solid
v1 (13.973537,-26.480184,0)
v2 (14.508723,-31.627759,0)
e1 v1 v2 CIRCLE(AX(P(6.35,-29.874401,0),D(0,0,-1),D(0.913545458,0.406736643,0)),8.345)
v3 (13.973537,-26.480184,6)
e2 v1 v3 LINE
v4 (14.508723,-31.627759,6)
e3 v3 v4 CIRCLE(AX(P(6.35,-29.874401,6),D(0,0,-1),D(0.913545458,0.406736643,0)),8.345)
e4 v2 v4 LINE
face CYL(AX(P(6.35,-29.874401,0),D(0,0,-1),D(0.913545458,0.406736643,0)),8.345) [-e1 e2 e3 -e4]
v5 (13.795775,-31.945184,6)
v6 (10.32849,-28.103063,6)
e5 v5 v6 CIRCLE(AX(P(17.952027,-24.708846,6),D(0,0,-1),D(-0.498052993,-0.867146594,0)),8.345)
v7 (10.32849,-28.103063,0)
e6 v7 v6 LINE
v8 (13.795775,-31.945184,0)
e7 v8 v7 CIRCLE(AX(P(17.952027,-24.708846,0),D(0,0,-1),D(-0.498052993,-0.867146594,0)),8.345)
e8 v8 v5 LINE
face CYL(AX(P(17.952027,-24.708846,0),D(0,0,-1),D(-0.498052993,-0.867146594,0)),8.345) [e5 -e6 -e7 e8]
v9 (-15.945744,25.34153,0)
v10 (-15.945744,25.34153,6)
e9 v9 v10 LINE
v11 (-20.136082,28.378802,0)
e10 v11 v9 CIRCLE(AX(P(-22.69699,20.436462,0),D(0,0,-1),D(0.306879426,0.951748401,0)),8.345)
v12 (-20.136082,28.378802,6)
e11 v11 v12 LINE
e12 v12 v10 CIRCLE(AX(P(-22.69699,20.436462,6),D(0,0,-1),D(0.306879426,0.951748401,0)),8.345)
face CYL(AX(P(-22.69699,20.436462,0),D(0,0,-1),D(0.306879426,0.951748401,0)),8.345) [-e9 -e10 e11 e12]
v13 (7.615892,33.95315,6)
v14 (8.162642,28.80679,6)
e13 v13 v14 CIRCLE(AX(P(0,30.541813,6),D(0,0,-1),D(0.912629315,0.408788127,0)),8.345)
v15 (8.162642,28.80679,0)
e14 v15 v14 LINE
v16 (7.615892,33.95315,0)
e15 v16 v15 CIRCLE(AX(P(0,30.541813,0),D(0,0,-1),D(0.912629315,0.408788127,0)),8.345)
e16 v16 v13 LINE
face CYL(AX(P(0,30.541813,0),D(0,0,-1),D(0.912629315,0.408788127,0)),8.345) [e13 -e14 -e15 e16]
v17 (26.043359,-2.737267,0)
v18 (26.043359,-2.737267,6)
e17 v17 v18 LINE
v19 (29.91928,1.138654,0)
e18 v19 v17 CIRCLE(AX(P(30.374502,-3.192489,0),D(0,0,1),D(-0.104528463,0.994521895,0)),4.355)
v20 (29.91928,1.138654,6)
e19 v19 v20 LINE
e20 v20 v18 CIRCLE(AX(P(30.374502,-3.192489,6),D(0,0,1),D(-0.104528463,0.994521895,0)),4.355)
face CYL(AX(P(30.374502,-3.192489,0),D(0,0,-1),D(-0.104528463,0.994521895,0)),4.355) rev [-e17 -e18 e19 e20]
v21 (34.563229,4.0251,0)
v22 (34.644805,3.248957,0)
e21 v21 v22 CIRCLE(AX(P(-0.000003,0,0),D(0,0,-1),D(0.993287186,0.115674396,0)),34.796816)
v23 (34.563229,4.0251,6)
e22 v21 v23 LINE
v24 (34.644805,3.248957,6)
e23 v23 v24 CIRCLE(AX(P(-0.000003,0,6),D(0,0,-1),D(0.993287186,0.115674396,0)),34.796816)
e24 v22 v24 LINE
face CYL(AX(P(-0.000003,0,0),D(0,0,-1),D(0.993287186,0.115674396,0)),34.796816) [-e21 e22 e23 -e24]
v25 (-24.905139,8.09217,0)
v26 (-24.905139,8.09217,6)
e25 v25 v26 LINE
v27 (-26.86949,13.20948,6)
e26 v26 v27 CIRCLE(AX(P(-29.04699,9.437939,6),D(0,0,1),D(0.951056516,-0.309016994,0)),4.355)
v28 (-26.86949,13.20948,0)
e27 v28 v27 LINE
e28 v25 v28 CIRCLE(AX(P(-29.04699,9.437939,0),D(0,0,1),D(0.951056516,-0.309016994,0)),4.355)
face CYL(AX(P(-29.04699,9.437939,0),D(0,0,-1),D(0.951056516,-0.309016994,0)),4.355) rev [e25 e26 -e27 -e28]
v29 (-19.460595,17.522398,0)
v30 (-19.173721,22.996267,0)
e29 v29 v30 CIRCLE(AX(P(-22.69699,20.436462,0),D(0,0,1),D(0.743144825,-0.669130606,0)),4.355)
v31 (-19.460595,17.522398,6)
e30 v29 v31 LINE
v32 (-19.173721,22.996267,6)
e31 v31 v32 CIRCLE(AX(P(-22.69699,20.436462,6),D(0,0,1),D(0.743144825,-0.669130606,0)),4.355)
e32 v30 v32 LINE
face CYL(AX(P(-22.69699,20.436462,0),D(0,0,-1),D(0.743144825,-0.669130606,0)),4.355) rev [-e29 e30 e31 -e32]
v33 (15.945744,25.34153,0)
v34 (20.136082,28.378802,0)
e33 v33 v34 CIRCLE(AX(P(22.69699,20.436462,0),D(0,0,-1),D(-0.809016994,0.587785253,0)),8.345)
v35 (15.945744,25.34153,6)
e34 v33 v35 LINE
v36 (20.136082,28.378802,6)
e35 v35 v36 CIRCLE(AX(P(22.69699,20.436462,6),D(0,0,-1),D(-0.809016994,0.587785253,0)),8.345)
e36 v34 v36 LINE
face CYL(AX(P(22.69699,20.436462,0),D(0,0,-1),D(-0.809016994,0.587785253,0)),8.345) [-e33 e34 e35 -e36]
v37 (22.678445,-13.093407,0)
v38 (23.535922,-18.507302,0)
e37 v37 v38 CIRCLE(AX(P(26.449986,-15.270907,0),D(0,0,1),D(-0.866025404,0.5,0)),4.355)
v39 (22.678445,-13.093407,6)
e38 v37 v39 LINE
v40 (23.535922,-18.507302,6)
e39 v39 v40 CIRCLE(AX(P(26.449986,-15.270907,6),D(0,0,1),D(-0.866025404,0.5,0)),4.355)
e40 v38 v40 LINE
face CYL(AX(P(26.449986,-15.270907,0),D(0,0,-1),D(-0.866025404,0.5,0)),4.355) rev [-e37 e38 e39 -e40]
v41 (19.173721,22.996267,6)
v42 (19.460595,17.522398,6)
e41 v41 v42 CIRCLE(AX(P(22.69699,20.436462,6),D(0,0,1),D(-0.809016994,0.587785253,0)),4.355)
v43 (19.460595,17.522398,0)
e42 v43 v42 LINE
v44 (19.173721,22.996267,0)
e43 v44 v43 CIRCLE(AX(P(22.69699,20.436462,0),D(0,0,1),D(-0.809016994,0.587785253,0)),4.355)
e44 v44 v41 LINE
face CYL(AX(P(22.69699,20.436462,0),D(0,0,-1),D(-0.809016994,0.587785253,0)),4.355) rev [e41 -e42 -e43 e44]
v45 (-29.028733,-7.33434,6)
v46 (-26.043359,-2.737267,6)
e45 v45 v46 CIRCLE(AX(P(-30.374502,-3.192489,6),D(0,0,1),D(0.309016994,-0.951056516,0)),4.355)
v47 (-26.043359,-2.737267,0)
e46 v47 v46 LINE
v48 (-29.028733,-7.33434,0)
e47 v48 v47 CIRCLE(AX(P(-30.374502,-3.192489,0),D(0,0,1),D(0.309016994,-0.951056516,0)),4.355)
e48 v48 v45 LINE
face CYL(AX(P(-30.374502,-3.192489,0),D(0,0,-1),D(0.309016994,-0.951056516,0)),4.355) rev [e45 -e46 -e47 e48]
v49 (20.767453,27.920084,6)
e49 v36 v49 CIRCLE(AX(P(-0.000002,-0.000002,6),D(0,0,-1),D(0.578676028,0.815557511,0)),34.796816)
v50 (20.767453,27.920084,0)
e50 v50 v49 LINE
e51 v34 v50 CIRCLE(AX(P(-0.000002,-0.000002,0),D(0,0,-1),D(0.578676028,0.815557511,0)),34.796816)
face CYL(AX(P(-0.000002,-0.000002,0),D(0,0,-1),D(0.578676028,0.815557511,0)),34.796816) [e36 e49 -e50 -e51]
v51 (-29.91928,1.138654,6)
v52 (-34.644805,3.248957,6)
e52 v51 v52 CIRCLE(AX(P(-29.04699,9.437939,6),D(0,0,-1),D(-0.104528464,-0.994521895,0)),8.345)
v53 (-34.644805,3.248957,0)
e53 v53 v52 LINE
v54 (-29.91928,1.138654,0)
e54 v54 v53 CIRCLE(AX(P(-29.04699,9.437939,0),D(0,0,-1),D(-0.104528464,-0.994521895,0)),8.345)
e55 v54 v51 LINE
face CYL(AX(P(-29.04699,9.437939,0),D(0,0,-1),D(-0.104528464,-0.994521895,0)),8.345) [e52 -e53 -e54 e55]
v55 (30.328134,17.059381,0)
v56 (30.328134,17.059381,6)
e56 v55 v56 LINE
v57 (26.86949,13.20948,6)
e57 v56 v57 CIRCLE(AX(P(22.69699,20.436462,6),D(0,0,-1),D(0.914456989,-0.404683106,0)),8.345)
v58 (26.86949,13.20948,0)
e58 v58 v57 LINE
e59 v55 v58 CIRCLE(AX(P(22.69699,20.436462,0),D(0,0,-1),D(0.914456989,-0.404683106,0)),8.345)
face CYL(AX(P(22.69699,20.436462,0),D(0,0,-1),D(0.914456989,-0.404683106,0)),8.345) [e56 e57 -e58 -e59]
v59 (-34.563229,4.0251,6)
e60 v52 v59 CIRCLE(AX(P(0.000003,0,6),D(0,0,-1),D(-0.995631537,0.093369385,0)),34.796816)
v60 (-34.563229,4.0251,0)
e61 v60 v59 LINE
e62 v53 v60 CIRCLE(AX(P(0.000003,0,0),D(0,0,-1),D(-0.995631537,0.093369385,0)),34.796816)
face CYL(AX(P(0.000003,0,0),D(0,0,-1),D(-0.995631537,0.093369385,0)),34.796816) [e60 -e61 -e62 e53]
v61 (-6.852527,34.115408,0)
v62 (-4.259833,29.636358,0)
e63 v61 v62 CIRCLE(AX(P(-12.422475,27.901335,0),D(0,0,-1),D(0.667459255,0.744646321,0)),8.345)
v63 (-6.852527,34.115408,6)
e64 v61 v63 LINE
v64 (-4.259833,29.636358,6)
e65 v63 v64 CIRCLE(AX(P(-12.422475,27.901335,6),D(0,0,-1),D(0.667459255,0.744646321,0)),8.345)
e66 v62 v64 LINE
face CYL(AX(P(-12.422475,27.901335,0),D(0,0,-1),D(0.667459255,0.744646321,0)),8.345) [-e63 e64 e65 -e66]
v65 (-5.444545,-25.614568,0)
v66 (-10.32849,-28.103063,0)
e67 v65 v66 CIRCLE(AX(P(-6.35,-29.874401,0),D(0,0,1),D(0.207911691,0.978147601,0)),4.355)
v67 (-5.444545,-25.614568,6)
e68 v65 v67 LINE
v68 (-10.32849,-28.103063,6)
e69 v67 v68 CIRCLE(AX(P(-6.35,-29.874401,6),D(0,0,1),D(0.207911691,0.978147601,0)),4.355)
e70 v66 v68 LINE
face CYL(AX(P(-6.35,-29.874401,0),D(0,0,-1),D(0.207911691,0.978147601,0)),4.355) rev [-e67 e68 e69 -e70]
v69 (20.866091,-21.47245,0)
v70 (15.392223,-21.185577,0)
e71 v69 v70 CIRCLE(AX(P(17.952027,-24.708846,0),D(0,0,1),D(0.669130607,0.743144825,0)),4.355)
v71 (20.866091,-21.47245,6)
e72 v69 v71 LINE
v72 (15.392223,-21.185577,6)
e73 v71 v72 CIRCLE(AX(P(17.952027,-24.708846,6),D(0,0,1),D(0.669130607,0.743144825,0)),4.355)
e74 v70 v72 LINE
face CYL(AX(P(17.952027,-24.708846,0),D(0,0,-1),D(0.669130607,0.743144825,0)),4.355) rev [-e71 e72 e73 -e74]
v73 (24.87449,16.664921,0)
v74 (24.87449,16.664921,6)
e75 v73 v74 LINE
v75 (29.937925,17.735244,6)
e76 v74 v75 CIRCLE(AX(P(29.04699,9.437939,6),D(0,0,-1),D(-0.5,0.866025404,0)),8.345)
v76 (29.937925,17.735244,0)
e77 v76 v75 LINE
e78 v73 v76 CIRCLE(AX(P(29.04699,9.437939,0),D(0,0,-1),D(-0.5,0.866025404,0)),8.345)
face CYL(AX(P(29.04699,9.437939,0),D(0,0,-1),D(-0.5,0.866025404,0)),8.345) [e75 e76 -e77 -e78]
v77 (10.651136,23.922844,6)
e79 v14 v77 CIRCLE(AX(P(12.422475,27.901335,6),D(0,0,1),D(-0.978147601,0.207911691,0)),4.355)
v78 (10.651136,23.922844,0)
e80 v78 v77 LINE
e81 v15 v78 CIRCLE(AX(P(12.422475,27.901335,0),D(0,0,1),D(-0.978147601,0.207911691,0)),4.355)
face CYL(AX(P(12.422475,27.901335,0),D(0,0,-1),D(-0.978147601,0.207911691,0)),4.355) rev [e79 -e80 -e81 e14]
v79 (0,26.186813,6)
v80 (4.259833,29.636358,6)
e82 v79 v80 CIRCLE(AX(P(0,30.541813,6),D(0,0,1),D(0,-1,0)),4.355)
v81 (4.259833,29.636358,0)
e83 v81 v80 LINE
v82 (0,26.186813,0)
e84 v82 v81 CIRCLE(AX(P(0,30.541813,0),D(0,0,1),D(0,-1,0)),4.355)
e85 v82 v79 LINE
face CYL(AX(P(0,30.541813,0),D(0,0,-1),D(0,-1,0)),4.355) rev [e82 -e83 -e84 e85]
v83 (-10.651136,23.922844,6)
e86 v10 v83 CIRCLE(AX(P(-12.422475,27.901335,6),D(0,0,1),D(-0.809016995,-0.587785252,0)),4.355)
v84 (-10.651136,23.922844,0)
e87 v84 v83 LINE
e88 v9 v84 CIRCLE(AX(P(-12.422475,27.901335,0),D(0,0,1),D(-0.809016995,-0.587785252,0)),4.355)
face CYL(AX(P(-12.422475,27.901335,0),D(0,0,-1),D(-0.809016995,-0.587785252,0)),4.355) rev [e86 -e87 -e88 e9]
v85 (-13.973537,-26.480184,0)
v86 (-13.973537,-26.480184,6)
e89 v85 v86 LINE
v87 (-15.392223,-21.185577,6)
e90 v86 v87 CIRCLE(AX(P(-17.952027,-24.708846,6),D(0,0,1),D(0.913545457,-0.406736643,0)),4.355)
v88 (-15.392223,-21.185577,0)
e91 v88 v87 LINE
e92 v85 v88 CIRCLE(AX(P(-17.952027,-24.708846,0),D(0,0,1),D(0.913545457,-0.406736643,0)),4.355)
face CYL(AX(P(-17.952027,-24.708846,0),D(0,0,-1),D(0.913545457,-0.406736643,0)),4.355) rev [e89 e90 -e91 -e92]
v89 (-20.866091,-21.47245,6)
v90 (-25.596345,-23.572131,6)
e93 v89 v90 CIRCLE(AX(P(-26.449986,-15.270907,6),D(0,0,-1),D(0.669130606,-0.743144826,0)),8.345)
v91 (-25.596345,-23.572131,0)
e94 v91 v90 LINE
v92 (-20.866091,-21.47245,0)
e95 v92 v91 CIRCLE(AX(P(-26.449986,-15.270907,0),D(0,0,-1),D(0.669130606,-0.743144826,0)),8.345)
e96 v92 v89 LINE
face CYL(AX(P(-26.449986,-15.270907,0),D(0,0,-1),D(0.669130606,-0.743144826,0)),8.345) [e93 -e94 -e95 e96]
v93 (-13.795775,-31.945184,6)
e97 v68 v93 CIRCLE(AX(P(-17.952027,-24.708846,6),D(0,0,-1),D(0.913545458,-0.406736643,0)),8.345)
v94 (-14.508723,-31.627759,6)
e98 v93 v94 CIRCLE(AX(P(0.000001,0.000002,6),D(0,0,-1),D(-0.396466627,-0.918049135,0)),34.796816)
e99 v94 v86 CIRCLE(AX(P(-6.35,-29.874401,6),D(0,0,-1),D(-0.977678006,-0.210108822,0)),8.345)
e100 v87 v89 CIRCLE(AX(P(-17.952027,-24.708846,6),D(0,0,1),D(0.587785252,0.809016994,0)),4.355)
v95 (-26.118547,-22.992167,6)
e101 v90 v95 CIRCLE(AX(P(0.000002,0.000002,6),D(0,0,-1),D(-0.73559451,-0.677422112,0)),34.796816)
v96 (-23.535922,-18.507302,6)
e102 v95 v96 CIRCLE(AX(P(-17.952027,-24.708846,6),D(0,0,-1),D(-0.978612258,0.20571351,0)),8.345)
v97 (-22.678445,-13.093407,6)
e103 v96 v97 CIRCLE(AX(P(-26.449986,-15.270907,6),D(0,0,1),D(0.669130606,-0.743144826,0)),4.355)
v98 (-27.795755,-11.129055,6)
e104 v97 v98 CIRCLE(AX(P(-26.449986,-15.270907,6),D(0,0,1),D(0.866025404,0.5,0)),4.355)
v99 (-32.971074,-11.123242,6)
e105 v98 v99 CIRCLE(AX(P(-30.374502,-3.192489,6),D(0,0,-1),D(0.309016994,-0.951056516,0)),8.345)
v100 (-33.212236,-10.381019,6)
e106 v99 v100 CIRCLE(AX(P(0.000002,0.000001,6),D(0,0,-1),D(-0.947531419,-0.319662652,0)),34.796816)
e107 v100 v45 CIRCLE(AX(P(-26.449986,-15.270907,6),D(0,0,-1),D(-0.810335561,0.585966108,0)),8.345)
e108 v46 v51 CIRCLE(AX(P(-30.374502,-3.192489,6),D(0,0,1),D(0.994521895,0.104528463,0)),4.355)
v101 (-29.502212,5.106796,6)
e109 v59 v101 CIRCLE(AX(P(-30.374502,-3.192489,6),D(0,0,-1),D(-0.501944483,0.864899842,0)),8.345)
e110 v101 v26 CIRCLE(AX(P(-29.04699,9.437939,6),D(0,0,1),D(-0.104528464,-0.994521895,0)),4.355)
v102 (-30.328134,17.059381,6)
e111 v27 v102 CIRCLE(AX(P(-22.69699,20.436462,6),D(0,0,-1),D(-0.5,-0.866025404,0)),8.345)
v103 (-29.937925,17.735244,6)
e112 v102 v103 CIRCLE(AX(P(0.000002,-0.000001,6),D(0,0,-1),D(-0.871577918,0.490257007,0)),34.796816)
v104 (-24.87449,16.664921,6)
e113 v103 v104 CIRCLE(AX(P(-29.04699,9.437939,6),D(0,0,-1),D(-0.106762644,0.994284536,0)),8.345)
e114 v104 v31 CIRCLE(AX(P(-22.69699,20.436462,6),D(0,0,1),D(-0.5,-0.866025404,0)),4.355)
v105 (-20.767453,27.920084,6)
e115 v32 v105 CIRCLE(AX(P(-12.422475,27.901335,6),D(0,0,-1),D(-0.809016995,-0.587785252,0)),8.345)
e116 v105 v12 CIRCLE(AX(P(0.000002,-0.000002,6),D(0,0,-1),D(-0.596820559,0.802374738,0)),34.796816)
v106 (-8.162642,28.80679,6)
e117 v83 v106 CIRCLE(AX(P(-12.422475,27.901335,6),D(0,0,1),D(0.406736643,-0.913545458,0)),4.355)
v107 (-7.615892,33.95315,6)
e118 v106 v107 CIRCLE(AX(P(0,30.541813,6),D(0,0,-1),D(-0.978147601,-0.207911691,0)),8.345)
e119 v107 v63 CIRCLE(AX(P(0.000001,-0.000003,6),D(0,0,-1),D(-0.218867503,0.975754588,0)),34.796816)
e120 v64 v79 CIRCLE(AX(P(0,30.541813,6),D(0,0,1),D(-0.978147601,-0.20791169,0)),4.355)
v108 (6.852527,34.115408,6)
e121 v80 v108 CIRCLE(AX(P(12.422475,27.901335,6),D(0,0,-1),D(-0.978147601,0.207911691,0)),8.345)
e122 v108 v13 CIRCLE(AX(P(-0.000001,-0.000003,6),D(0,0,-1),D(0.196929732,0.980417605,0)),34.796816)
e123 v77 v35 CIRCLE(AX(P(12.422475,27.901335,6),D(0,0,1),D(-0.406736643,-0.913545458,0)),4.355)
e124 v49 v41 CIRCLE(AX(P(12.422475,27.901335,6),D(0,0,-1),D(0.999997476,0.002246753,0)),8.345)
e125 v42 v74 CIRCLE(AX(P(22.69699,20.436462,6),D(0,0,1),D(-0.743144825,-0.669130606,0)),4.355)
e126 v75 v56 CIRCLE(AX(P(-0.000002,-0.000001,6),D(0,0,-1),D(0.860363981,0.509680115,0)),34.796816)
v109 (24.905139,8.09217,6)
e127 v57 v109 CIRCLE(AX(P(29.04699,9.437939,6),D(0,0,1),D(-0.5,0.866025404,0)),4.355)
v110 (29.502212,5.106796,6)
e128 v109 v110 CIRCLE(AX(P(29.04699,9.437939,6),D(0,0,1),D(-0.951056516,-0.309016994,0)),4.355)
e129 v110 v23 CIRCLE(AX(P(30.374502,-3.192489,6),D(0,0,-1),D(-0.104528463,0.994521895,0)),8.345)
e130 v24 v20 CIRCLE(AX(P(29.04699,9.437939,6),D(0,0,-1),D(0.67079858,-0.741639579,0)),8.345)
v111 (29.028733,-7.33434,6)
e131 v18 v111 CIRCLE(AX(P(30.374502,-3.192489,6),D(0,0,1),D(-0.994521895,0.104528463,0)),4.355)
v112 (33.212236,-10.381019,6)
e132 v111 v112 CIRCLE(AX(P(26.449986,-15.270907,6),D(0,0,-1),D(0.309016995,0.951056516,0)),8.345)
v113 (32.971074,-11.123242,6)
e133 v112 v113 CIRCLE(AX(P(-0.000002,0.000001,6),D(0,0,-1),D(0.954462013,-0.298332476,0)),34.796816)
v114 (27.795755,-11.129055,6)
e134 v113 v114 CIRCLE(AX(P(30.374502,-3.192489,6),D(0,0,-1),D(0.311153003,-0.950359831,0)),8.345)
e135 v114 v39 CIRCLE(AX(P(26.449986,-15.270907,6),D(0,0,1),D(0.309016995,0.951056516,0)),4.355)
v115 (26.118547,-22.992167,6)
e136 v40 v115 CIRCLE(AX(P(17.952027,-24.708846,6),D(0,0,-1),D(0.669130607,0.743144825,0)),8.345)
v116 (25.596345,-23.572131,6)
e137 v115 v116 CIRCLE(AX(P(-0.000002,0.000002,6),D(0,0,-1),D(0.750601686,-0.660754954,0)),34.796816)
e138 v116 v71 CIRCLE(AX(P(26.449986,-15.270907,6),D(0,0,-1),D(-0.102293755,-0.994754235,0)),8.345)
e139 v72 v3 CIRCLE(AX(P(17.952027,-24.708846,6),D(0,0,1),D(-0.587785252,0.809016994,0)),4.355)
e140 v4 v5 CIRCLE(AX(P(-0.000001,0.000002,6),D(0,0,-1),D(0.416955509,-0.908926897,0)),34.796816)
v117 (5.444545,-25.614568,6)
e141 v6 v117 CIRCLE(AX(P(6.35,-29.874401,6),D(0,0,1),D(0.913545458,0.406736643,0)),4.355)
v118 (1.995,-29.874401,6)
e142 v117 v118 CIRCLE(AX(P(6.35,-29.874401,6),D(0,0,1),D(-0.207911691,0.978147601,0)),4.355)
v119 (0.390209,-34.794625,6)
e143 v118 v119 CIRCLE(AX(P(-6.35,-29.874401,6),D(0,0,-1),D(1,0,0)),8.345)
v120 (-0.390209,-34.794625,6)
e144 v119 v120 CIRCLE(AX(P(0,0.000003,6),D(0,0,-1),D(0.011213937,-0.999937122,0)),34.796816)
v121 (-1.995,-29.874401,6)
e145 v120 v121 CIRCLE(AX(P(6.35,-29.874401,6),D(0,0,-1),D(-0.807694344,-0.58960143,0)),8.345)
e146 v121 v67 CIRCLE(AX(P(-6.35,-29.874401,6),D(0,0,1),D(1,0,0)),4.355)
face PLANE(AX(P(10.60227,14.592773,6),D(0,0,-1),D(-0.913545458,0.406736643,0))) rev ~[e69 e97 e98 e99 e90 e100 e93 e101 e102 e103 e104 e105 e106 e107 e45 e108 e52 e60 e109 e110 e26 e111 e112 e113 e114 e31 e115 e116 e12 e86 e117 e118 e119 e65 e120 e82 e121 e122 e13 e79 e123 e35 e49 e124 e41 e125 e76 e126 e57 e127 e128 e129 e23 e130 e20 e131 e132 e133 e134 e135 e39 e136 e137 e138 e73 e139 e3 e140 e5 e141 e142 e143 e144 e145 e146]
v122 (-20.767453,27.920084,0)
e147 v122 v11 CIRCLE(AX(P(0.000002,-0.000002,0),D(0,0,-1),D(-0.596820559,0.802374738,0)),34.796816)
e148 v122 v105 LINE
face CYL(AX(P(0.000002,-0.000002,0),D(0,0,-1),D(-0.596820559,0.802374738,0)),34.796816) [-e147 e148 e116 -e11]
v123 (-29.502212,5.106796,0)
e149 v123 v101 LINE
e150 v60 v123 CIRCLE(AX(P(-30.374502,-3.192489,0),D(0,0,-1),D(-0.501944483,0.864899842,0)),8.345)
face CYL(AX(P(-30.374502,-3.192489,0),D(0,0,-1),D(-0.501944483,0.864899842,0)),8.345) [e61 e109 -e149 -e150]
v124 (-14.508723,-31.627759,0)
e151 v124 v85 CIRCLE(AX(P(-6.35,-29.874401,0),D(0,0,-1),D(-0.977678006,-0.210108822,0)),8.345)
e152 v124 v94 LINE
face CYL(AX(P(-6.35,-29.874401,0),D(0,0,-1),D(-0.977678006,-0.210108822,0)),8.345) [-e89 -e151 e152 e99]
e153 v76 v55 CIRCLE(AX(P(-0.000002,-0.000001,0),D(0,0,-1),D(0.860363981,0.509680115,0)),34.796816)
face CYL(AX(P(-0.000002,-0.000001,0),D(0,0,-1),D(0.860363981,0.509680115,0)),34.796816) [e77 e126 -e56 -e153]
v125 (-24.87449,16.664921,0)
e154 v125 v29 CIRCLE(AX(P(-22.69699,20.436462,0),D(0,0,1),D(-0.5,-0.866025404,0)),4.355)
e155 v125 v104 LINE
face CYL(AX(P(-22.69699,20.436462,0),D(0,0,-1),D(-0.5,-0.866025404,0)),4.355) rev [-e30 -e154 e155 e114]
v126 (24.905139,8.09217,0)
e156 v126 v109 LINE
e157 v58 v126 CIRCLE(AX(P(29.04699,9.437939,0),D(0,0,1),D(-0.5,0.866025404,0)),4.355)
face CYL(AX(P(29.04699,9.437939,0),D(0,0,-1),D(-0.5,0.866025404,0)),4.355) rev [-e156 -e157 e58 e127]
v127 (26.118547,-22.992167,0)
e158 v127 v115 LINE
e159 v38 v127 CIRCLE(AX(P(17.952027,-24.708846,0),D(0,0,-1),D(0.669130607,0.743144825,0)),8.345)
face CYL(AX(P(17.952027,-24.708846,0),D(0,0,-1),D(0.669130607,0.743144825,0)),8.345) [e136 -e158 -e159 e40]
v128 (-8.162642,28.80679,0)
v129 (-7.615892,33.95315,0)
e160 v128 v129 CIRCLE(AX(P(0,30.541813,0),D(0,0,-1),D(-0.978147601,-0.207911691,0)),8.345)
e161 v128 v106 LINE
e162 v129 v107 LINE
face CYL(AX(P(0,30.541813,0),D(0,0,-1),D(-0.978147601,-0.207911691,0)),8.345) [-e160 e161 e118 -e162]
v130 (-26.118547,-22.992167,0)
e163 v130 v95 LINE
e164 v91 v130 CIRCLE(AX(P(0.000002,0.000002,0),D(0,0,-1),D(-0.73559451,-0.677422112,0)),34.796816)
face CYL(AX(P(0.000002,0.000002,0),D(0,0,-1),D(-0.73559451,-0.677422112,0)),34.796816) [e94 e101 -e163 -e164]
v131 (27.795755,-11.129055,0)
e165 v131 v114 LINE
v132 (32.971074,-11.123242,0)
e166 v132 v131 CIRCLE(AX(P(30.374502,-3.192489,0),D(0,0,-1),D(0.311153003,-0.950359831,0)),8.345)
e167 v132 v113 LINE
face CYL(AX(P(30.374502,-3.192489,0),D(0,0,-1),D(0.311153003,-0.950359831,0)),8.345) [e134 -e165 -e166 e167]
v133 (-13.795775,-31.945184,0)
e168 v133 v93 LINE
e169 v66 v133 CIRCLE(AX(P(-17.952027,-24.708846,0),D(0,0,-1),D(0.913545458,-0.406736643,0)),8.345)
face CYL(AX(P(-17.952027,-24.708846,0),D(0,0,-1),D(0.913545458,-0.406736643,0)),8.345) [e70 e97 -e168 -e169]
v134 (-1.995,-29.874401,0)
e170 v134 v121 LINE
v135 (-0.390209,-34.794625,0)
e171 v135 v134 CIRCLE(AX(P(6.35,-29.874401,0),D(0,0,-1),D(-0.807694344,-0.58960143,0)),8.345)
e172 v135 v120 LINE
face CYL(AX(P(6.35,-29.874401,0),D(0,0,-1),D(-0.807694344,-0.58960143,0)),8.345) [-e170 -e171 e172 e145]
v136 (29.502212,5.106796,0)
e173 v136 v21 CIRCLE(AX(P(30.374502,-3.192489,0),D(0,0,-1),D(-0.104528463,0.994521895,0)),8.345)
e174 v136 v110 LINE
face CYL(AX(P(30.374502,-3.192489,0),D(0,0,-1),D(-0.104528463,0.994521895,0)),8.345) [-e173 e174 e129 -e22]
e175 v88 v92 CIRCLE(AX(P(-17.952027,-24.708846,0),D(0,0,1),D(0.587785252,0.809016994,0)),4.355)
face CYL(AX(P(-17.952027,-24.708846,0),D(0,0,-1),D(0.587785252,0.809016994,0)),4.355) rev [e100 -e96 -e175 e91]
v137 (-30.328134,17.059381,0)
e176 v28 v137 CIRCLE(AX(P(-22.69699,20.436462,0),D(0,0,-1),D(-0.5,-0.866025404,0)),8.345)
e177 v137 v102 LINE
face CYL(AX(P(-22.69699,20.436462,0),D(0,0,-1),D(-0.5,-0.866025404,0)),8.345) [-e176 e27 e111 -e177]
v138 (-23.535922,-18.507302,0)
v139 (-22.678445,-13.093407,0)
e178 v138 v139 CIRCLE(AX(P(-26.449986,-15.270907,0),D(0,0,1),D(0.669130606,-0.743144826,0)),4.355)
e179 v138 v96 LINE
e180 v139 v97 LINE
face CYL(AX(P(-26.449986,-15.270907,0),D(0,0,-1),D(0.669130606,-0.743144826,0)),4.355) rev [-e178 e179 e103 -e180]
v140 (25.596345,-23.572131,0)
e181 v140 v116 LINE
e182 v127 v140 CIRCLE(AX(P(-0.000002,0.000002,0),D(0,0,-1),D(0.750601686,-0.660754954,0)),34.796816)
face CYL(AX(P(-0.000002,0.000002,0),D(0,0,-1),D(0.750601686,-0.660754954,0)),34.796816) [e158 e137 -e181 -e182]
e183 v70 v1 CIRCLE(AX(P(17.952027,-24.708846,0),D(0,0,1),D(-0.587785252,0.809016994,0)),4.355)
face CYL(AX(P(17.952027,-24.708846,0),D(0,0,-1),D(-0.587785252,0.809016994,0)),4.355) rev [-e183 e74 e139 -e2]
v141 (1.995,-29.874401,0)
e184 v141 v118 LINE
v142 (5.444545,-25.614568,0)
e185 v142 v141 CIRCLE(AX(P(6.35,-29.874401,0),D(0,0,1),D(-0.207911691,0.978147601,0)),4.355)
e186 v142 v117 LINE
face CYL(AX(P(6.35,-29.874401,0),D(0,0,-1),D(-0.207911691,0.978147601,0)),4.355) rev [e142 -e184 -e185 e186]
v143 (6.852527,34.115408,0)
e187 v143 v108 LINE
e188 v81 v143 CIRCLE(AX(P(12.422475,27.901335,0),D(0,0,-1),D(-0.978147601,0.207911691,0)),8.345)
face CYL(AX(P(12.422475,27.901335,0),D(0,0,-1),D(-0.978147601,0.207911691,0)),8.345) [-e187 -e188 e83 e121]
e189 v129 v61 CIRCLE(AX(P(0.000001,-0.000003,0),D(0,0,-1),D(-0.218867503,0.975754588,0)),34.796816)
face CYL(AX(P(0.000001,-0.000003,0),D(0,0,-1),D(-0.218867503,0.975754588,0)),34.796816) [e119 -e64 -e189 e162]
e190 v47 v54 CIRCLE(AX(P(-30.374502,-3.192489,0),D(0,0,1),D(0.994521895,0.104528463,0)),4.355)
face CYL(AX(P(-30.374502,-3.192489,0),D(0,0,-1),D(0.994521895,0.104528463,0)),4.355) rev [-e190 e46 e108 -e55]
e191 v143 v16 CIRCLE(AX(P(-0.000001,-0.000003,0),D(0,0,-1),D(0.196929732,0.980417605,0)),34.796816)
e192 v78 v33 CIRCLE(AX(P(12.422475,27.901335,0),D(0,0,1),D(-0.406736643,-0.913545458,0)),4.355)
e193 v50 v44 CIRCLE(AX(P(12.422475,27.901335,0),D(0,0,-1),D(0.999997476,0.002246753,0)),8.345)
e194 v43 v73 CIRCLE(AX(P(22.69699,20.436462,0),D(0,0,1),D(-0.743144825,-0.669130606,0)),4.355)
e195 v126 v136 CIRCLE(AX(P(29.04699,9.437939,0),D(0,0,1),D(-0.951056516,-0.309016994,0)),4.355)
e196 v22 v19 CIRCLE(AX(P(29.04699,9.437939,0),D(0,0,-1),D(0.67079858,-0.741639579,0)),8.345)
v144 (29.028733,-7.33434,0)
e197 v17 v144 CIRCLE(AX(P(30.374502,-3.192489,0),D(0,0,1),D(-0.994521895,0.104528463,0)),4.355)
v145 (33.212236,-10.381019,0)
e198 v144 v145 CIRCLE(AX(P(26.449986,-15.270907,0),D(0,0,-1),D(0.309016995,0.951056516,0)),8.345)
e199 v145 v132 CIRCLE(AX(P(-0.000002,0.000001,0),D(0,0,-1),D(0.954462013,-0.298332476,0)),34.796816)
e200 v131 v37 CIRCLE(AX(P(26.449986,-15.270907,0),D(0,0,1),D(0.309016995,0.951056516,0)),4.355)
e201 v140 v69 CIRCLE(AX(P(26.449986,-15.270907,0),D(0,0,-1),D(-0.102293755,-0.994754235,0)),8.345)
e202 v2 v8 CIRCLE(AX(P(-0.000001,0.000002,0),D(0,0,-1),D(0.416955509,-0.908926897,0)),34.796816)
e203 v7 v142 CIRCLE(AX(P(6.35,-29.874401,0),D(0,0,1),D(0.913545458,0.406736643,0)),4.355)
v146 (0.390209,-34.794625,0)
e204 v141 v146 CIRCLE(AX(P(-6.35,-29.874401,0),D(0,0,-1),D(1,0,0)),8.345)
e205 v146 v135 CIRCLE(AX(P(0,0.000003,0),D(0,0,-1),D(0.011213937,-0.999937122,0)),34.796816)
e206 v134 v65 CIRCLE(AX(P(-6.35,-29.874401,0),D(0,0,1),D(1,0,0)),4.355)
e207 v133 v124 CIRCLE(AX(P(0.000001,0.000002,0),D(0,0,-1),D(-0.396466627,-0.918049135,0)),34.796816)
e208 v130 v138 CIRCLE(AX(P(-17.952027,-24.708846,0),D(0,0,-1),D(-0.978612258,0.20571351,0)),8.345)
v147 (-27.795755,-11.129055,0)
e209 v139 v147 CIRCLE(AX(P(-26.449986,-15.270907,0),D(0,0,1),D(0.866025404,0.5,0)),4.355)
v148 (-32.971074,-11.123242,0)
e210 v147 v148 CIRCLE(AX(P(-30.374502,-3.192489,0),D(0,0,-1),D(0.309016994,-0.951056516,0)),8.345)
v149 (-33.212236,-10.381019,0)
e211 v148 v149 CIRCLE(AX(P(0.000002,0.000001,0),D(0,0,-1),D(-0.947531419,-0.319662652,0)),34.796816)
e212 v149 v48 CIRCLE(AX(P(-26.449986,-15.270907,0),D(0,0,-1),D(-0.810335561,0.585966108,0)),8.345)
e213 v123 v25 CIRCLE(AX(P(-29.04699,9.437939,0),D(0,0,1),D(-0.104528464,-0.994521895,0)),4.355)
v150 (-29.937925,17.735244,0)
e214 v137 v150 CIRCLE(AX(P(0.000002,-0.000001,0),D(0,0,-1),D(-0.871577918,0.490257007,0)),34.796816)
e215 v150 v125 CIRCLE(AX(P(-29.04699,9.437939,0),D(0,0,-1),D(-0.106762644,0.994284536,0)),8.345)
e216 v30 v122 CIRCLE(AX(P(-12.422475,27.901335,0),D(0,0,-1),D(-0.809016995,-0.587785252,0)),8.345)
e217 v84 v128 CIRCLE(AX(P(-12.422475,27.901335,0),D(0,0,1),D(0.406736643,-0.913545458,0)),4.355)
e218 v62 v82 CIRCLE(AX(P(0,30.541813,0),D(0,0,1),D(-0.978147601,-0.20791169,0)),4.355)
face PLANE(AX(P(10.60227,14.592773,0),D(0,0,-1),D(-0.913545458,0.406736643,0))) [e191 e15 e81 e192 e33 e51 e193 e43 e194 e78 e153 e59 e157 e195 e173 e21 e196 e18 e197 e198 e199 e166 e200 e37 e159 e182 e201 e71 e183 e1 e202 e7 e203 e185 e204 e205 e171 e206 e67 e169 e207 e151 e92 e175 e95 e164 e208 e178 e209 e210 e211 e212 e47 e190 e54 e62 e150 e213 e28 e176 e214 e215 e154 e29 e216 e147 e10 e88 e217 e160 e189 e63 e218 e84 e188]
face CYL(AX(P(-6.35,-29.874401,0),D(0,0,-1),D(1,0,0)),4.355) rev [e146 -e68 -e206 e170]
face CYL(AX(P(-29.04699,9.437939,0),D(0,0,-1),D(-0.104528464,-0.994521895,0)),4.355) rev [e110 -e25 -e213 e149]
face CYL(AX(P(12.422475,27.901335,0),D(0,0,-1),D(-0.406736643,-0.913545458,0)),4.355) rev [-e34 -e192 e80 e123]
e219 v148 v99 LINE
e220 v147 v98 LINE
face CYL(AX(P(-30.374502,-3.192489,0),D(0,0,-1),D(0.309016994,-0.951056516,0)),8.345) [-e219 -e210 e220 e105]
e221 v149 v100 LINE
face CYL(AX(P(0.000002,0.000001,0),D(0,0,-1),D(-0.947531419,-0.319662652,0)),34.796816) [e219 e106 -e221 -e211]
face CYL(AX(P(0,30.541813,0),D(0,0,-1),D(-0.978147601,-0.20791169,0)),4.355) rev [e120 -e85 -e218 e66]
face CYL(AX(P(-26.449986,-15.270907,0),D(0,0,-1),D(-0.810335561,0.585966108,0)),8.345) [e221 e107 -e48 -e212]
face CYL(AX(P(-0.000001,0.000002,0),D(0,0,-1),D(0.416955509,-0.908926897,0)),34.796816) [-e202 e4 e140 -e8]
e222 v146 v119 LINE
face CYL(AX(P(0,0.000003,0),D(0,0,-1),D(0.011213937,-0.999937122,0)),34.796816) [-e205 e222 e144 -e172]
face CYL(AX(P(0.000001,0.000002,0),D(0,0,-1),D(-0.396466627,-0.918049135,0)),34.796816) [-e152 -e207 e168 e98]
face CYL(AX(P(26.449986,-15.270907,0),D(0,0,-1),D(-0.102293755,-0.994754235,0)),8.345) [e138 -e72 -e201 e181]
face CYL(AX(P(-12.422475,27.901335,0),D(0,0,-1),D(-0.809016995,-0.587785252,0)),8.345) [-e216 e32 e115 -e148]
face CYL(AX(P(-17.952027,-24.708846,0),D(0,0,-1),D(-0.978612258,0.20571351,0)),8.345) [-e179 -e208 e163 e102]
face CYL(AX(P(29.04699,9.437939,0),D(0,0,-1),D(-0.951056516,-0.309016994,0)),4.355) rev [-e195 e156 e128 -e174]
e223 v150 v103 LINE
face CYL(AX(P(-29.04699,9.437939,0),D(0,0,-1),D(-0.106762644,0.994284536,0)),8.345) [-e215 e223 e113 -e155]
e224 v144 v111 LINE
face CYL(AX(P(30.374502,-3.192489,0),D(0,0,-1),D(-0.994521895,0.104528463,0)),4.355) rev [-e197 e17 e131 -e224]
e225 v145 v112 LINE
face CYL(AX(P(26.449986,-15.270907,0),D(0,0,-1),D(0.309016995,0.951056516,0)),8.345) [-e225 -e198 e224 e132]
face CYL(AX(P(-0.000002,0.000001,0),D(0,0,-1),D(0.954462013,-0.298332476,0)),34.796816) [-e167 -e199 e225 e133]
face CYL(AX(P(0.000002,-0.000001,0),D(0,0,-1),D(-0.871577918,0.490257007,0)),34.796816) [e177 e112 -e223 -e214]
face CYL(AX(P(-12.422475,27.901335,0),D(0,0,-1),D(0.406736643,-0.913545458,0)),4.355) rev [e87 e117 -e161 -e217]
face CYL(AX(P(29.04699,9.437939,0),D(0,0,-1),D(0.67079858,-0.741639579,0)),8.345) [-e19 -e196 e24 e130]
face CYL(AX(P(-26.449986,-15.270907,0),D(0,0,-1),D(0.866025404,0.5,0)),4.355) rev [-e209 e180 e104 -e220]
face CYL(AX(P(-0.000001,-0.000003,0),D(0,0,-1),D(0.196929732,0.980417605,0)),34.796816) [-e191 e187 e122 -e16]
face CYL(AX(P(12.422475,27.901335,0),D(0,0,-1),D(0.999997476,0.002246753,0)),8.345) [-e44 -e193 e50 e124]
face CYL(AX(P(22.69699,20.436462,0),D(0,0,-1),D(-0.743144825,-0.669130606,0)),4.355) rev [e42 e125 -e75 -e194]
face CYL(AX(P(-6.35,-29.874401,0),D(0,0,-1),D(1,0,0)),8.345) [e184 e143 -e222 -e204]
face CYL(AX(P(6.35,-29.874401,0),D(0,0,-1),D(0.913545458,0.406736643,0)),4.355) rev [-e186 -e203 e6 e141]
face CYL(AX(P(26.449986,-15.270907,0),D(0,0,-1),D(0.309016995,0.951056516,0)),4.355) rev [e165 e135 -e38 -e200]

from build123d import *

# Parameters (mm, degrees)
EXTRUDE_1_DEPTH          = 6
PATTERN_CIRCULAR_1_COUNT = 15


with BuildPart() as part:
    # Эскиз2 → Бобышка-Вытянуть1 (new body)
    with BuildSketch(Plane.XY):
        with BuildLine():
            Line((0, 0), (0, 26.186813089))
            ThreePointArc((0, 26.186813089), (2.740690303, 27.157342427), (4.259832801, 29.636357676))
            ThreePointArc((4.259832801, 29.636357676), (5.200184386, 32.081950609), (6.852527049, 34.115408164))
            ThreePointArc((6.852527049, 34.115408164), (7.234664244, 34.036419236), (7.615891635, 33.953150012))
            ThreePointArc((7.615891635, 33.953150012), (8.298300069, 31.423425792), (8.162641728, 28.806790029))
            ThreePointArc((8.162641728, 28.806790029), (8.542141116, 25.924205989), (10.651136449, 23.922844148))
            Line((10.651136449, 23.922844148), (0, 0))
        make_face()
    extrude_1 = extrude(amount=EXTRUDE_1_DEPTH)

    # Круговой массив1: Бобышка-Вытянуть1 ×15 about axis
    pattern_circular_1_axis = Axis((0, 0, 0), (0, 0, 1))
    for i in range(1, PATTERN_CIRCULAR_1_COUNT):
        add(extrude_1.rotate(pattern_circular_1_axis, i * 360 / PATTERN_CIRCULAR_1_COUNT))


solid = part.part
